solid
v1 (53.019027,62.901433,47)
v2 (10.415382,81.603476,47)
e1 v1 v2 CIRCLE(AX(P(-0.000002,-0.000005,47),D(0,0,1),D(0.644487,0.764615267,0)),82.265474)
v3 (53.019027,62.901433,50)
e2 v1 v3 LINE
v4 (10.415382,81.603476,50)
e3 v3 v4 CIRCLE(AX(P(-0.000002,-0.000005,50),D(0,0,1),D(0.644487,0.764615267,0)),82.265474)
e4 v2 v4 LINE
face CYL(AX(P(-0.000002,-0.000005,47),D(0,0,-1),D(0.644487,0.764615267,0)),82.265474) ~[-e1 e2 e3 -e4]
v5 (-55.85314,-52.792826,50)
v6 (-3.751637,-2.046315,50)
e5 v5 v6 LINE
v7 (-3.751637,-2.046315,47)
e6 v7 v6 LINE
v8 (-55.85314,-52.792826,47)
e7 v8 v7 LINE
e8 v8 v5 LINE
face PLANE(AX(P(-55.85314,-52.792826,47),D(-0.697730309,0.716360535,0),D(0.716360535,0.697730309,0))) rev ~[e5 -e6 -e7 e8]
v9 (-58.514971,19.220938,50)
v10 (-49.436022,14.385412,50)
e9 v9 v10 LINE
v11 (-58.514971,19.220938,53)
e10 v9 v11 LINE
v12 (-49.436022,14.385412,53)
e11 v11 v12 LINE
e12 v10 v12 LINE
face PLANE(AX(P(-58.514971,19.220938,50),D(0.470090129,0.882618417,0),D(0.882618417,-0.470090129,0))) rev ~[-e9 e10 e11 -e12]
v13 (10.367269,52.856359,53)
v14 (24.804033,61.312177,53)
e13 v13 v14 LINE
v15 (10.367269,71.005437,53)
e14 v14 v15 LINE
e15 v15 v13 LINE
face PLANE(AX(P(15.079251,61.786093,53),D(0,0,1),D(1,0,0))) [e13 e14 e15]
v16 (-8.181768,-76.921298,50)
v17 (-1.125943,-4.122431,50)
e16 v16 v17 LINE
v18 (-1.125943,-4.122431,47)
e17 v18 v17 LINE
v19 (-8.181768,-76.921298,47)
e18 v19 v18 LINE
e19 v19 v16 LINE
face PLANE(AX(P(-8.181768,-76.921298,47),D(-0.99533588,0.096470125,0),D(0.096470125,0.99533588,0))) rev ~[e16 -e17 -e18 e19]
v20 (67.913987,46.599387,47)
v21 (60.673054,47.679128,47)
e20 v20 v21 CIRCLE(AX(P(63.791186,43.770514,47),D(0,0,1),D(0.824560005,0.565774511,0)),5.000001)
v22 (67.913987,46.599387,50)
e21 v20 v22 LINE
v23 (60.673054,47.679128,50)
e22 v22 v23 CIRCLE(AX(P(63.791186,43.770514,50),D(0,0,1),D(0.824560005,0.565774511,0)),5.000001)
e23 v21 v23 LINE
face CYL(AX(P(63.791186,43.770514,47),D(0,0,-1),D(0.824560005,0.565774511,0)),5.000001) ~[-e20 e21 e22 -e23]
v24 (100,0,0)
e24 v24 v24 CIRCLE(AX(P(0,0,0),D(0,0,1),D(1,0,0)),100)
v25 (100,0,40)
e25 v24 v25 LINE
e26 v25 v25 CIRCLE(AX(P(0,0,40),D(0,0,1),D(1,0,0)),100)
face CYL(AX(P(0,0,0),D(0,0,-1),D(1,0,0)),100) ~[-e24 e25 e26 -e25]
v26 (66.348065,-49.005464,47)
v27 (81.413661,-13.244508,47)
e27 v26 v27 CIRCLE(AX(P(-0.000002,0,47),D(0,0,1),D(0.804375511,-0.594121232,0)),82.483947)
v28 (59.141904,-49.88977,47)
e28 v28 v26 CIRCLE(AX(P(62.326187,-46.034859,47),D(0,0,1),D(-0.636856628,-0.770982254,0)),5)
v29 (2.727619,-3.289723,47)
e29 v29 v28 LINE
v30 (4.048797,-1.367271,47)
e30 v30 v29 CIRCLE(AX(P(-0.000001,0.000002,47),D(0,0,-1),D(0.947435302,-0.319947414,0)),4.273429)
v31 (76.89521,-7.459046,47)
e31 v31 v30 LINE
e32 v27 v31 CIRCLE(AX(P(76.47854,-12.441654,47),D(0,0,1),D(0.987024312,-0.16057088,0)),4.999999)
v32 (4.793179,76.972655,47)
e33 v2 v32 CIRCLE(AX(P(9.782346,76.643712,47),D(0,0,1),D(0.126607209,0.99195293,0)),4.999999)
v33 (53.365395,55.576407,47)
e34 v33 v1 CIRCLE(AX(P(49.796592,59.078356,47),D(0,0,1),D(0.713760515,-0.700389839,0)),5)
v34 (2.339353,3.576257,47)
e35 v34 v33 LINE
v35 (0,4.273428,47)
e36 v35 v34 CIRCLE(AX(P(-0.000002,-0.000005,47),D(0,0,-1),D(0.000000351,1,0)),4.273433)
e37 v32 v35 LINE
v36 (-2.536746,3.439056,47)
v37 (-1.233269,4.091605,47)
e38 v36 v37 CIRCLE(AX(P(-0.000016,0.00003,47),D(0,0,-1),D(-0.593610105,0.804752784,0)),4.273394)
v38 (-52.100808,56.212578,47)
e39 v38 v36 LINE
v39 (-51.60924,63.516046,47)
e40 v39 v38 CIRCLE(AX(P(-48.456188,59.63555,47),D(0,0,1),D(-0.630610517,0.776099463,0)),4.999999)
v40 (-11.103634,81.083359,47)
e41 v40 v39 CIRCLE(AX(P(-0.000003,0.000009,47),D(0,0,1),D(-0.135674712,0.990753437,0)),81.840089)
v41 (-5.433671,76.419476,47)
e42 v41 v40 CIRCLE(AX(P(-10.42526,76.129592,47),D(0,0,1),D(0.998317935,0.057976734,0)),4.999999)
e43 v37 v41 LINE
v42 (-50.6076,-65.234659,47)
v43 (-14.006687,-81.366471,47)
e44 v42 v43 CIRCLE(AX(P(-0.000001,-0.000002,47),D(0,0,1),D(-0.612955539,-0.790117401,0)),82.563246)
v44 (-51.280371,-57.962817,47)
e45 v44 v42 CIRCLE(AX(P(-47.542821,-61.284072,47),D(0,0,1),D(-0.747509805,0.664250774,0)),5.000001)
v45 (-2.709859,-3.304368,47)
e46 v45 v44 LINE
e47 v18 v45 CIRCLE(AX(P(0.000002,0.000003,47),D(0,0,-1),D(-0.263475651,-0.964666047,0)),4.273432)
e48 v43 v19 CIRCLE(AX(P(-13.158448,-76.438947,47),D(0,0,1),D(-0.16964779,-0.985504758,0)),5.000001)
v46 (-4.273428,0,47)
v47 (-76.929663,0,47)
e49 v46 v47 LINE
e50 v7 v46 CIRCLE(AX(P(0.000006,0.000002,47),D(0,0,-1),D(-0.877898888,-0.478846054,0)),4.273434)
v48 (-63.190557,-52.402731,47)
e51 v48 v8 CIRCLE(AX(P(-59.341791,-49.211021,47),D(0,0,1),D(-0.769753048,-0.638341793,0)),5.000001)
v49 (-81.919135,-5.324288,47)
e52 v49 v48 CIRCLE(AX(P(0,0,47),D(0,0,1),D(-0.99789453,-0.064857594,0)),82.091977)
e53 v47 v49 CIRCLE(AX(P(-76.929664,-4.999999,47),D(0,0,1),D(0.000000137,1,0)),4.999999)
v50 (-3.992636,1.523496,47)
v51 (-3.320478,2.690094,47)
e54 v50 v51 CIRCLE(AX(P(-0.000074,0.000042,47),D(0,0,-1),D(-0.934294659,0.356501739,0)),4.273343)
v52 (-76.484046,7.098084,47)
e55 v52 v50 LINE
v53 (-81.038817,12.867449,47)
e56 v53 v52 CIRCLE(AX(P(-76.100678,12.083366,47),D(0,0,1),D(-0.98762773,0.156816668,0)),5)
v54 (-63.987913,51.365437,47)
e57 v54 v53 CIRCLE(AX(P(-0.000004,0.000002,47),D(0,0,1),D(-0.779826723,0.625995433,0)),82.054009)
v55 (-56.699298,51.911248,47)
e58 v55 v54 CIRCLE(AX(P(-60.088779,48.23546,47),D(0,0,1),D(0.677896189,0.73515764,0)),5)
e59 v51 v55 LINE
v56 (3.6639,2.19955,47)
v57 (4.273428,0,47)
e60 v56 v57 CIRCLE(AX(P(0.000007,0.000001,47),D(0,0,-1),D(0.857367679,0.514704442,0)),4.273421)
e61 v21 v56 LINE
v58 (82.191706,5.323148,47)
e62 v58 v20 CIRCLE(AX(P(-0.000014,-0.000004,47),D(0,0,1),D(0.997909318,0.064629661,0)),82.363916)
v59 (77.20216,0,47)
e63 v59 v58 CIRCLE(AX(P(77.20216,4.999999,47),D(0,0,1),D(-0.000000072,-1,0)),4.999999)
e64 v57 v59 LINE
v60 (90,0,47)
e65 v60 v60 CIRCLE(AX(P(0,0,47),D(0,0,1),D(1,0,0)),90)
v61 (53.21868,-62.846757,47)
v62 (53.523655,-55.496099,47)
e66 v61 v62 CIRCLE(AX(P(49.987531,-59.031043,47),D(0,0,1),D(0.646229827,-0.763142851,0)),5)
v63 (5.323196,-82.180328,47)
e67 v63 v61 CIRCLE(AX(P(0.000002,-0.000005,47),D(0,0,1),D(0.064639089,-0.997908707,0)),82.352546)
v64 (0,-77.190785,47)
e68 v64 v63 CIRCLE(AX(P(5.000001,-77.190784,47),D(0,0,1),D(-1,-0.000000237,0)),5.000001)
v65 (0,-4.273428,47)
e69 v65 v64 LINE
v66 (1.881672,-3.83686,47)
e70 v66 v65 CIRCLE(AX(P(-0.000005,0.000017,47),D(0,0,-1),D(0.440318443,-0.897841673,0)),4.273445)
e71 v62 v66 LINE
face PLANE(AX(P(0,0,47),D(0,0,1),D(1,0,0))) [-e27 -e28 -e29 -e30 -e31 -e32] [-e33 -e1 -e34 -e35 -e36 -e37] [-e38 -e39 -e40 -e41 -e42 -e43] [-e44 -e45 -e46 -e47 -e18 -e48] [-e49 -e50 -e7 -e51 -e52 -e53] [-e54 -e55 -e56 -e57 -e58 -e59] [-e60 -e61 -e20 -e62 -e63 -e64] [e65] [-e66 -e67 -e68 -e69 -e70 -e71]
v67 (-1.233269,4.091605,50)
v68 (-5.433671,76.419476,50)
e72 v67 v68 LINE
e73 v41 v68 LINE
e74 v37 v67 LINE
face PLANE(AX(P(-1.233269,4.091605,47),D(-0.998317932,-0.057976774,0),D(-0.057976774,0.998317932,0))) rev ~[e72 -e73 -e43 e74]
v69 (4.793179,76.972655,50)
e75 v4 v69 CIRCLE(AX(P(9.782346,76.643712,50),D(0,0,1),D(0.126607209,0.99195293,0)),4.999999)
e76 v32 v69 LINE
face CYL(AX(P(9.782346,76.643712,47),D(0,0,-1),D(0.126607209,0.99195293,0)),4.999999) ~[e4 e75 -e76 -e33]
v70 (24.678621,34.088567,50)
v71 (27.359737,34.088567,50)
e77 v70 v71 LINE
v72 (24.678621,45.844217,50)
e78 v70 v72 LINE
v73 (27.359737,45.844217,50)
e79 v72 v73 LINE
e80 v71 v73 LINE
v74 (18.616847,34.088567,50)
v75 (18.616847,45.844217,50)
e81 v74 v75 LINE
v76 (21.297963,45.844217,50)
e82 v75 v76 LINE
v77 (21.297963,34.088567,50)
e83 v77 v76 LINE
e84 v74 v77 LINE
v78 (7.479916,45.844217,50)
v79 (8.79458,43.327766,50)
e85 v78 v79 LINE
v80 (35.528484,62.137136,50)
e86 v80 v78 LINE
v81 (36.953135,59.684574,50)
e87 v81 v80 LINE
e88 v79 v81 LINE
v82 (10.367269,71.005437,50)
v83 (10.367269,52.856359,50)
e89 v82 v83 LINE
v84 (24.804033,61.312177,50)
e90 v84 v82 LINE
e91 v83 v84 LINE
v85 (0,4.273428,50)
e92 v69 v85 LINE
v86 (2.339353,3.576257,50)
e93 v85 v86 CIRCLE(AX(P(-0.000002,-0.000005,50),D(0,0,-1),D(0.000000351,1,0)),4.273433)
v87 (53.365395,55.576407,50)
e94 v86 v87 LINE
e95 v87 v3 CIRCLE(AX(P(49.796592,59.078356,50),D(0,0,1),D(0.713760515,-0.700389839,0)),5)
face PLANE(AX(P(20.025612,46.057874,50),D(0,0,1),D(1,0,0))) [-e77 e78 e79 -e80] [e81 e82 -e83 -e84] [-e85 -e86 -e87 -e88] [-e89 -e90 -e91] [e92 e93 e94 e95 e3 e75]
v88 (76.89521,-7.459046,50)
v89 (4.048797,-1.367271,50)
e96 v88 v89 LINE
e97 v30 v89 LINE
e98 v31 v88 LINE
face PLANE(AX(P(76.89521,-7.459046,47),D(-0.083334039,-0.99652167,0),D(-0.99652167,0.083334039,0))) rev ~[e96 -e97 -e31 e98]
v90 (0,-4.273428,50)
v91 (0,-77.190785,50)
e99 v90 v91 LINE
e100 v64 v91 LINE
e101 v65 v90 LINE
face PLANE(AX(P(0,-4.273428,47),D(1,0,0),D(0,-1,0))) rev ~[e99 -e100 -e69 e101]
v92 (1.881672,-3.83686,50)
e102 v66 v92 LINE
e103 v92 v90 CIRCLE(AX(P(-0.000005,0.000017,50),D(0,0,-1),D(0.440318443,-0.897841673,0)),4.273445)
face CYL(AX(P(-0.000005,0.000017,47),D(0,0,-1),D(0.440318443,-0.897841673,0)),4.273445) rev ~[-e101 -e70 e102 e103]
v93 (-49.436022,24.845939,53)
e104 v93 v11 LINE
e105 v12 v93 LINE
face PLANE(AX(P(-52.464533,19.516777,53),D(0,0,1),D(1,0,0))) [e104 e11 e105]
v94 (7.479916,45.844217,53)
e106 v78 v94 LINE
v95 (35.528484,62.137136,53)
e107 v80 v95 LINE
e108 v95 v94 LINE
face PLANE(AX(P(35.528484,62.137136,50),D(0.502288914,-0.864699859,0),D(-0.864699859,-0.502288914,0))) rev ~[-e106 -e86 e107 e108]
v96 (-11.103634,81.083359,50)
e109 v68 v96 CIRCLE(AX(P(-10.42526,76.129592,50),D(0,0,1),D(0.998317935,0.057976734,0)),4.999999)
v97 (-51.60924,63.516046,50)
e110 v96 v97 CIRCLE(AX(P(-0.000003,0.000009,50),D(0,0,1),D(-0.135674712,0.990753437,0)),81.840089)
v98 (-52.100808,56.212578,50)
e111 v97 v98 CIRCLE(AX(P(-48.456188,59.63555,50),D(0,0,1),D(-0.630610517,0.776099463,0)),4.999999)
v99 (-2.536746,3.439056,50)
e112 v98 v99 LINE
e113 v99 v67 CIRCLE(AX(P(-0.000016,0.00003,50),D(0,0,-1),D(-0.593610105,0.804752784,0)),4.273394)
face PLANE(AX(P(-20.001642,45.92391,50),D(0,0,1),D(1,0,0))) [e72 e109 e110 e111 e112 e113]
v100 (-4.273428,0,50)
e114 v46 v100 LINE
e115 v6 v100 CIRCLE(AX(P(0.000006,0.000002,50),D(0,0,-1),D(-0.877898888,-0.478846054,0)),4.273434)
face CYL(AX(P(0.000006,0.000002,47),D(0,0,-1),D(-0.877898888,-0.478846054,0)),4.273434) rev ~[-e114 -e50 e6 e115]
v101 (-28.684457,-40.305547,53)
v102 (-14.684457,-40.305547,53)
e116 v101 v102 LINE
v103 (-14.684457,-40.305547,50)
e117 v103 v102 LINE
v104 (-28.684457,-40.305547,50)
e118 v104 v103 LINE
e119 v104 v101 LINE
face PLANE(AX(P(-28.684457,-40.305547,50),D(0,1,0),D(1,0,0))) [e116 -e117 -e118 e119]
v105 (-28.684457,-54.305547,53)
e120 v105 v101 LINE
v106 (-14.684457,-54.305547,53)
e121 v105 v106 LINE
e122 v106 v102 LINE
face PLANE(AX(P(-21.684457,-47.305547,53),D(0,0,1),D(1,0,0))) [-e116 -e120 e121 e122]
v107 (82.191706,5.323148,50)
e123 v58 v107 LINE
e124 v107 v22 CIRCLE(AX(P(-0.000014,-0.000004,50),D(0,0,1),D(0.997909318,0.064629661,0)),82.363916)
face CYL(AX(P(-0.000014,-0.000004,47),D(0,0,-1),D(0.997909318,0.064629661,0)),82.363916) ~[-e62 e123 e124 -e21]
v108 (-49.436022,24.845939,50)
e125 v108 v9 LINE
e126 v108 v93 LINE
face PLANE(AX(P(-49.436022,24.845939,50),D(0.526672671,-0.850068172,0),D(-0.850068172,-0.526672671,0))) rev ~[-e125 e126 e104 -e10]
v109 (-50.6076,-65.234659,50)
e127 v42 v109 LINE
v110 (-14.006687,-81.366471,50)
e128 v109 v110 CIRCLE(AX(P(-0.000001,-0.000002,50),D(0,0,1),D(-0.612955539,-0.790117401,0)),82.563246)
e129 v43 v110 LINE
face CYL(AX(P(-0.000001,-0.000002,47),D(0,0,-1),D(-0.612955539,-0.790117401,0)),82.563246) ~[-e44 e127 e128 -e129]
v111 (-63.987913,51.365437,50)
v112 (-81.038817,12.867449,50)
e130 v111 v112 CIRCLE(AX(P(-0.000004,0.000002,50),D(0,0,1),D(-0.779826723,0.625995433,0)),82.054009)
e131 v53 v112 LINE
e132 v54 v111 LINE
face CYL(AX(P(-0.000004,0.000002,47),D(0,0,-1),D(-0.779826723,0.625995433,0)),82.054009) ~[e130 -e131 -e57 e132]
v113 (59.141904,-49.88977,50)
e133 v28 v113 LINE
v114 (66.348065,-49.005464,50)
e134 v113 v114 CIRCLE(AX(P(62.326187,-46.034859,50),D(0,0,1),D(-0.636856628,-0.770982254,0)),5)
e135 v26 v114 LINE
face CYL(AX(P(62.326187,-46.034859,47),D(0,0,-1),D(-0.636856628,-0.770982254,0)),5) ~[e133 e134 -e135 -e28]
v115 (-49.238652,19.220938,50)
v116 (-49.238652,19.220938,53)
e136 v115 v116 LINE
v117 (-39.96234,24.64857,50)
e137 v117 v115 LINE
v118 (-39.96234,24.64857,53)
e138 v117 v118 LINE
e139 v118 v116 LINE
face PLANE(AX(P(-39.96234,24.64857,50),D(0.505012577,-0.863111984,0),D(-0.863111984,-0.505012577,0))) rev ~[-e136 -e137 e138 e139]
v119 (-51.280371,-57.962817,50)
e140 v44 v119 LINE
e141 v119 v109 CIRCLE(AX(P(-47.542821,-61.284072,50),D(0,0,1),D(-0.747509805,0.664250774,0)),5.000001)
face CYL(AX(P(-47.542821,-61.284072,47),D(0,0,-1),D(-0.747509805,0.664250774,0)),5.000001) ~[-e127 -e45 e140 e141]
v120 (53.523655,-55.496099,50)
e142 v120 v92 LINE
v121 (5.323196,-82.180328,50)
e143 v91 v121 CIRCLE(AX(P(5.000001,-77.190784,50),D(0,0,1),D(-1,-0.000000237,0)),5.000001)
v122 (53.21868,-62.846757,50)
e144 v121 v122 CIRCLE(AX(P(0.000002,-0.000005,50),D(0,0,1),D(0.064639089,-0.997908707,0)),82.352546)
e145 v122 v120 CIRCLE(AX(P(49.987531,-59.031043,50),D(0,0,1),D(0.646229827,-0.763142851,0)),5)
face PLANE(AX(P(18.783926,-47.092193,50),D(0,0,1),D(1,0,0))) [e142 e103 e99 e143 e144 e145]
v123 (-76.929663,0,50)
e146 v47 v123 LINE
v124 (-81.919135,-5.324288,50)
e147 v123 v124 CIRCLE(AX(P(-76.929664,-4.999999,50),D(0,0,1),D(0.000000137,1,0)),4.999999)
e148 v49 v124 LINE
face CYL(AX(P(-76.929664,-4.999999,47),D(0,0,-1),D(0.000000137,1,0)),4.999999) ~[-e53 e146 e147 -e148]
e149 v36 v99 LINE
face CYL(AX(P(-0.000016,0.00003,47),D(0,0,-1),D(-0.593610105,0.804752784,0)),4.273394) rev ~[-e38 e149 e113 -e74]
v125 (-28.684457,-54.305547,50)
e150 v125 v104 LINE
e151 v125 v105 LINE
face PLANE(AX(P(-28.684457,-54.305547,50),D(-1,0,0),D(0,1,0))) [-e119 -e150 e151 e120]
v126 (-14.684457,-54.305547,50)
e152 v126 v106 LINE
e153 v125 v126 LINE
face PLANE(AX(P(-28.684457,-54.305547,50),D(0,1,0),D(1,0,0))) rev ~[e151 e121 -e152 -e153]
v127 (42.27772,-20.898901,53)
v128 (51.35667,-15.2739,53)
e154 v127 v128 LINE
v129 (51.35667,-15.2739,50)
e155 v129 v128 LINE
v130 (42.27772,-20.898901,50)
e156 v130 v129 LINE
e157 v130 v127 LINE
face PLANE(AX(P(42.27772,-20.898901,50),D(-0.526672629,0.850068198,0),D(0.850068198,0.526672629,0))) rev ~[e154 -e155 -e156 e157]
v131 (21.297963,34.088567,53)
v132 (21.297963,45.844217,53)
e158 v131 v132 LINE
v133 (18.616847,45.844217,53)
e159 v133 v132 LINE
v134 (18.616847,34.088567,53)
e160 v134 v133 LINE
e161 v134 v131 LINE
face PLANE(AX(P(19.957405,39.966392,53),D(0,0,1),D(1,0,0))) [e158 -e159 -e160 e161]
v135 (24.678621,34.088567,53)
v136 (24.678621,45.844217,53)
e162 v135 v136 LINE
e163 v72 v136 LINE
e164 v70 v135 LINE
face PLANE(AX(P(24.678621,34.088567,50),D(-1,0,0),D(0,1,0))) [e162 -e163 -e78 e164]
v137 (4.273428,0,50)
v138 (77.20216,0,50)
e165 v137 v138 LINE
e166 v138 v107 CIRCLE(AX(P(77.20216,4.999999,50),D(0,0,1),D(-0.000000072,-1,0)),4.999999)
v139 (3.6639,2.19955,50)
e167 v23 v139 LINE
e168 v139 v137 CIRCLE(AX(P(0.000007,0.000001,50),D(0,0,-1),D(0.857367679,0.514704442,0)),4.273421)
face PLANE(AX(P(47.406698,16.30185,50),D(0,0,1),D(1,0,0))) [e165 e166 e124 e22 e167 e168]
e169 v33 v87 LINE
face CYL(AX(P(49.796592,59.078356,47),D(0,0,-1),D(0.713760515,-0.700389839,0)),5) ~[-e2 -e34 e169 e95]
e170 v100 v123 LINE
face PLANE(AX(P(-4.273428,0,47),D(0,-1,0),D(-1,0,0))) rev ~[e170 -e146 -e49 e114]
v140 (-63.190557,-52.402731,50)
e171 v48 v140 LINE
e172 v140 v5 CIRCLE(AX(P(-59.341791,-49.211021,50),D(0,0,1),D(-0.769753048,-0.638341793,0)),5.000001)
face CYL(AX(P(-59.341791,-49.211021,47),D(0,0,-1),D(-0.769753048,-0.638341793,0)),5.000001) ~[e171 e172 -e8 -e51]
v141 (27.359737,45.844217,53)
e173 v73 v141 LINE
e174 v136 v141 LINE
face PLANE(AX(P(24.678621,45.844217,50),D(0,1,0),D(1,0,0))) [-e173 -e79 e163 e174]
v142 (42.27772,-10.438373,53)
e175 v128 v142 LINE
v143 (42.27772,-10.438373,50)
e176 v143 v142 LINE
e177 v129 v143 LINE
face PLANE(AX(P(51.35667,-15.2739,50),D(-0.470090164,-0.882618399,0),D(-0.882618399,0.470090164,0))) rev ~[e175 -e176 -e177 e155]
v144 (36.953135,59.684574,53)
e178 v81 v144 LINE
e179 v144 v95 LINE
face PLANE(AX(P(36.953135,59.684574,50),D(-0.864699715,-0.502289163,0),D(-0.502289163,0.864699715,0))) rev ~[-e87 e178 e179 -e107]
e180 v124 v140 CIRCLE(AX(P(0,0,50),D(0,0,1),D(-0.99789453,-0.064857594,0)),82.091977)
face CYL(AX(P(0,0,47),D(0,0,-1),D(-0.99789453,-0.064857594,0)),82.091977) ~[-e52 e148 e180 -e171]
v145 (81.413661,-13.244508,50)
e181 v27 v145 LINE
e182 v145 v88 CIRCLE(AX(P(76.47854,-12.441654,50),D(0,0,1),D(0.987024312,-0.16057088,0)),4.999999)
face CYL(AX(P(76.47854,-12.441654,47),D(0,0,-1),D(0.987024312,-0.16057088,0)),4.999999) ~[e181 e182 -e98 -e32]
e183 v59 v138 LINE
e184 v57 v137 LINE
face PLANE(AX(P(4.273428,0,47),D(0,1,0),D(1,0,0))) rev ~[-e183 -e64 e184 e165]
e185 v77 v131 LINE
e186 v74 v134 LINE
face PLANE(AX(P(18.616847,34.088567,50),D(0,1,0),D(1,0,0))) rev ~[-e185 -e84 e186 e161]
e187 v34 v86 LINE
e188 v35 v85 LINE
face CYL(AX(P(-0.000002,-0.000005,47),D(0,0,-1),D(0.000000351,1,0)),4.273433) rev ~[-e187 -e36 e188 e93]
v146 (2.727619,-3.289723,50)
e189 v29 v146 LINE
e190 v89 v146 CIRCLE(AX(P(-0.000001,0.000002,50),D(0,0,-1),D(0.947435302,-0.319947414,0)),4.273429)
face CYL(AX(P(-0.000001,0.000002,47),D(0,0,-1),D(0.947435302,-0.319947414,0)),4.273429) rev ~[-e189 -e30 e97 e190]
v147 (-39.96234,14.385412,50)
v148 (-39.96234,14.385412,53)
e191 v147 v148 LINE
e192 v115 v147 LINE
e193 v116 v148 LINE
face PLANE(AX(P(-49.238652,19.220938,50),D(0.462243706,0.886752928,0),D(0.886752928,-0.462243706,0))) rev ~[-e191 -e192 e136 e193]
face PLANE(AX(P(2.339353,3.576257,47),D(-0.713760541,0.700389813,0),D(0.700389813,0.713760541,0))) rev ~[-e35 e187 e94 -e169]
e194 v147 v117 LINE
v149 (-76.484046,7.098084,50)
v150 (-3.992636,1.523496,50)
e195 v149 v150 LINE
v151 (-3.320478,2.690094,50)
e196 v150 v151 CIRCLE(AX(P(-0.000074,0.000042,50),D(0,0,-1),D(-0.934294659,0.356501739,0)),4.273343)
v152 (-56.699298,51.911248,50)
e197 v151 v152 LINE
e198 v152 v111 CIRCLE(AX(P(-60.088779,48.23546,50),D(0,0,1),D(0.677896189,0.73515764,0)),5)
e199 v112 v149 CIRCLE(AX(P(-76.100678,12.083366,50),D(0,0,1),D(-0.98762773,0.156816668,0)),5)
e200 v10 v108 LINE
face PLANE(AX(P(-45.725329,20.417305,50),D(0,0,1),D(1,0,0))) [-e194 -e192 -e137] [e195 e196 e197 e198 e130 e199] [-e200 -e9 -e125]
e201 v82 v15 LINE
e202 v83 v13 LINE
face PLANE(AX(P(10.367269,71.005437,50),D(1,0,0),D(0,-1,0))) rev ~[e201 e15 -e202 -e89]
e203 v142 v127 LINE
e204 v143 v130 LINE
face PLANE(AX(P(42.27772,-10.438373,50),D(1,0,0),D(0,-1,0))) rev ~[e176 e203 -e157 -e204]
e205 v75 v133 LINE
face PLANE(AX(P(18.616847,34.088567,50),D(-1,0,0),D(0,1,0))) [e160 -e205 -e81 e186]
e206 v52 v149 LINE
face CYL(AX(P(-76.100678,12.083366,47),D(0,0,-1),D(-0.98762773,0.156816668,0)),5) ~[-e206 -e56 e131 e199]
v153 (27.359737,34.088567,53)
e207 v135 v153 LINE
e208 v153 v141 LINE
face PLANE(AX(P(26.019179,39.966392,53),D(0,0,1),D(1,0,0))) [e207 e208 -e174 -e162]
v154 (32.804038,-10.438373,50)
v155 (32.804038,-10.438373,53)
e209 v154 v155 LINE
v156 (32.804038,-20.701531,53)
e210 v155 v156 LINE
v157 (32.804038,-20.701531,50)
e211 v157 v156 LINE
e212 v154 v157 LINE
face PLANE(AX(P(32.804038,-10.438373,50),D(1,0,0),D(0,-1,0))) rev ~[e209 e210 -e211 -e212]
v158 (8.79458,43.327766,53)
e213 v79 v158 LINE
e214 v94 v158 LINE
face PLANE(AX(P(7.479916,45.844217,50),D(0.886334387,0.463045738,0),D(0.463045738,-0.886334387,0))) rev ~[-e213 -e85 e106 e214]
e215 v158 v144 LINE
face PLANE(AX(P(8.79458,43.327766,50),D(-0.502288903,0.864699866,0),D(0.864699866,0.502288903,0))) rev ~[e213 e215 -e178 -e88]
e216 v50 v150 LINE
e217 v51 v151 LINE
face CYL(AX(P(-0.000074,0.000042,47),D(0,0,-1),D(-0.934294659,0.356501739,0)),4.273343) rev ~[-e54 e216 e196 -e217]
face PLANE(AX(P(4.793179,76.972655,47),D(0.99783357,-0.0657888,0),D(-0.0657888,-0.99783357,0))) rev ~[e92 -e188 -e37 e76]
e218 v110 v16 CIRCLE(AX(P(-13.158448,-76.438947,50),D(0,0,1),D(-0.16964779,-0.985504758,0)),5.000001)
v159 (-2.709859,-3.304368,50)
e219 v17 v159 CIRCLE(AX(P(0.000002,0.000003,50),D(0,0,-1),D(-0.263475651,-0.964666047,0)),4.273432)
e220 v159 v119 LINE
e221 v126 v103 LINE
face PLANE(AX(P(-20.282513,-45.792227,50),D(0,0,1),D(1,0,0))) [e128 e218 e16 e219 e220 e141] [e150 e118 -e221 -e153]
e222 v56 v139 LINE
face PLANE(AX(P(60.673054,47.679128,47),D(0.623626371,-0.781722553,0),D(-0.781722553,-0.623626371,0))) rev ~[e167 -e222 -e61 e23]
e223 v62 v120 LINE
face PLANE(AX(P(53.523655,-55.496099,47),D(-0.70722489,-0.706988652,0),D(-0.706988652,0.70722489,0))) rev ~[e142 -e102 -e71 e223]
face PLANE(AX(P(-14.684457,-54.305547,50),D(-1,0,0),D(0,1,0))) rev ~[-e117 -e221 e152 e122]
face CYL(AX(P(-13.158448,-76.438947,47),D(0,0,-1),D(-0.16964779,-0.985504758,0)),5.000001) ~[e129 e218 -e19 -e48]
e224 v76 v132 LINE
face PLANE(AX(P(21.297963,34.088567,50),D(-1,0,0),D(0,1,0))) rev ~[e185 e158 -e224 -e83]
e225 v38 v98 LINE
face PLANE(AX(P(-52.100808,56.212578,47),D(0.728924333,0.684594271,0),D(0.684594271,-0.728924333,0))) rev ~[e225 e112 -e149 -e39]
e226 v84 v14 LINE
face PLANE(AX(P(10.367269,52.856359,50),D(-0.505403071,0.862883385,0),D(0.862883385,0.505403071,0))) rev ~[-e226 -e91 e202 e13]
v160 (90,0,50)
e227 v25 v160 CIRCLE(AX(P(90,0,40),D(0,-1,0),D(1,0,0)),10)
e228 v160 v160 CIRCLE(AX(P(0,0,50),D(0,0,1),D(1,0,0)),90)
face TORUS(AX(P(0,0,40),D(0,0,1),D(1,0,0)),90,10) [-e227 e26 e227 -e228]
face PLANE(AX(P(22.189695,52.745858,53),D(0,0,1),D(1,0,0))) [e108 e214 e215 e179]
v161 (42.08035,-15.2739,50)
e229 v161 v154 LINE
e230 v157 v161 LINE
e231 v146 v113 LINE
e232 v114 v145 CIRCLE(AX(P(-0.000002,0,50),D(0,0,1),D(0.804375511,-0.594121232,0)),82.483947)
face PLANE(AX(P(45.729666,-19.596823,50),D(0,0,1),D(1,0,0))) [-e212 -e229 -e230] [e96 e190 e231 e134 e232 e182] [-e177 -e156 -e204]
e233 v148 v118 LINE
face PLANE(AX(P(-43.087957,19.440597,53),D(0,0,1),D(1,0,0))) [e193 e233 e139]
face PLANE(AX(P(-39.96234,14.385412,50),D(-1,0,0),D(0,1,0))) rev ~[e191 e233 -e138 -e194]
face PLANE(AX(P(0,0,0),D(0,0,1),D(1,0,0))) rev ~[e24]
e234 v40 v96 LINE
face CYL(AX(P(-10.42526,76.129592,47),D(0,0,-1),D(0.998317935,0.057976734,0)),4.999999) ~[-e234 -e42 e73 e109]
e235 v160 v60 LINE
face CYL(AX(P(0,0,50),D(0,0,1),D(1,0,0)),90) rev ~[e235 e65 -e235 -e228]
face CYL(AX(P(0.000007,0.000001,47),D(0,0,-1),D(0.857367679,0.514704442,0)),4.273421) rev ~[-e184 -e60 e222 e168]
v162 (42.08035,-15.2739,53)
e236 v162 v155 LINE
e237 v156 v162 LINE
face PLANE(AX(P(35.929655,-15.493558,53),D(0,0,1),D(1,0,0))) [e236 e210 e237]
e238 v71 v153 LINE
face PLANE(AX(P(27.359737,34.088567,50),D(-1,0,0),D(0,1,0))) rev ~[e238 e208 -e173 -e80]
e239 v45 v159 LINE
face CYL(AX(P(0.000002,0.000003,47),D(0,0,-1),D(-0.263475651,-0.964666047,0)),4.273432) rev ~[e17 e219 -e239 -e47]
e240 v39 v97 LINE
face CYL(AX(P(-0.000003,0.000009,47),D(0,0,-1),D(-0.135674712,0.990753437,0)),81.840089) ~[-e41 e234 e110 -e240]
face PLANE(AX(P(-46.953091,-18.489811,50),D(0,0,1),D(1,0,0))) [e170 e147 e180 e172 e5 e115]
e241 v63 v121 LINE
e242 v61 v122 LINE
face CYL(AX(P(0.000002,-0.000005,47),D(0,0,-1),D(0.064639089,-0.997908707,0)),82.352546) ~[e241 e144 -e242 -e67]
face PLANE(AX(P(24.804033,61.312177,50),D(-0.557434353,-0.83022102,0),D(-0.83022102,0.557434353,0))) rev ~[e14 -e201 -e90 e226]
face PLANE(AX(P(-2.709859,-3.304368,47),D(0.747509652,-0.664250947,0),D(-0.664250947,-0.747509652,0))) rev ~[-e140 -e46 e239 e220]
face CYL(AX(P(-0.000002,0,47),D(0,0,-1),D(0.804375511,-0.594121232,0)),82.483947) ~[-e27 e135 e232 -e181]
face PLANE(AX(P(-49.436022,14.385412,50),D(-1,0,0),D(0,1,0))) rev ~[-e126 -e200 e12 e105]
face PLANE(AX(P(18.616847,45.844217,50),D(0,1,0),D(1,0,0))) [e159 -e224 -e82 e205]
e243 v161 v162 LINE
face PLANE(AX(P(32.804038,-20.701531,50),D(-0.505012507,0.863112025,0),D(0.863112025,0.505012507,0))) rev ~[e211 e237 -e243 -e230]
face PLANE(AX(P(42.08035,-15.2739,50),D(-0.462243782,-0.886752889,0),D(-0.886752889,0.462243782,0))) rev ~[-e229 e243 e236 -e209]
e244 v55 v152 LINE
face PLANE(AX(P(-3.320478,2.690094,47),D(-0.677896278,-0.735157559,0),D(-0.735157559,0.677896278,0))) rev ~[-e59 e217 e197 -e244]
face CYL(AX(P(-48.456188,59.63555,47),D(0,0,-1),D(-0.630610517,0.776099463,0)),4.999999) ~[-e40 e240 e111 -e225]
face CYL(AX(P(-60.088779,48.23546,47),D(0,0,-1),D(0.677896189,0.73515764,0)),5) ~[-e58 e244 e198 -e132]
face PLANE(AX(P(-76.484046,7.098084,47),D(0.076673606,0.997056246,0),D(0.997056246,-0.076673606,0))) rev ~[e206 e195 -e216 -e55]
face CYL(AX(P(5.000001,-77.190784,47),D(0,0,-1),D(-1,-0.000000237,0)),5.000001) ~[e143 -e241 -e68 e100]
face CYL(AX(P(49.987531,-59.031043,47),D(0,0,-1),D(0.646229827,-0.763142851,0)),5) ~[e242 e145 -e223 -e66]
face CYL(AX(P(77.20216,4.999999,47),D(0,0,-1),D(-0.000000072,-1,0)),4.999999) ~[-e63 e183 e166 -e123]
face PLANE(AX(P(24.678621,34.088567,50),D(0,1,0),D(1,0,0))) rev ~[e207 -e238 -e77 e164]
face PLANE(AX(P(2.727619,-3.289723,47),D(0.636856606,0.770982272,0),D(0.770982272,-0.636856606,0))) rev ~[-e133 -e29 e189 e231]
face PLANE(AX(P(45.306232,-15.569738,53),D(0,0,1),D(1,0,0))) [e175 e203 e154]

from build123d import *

# Parameters (mm, degrees)
F0_R      = 100
F1_DEPTH  = 50
F2_R      = 10
F1_FACE_R = 90
F3_DEPTH  = 3
F5_DEPTH  = 3
F7_W      = 2.681116
F7_H      = 11.75565
F7_W_2    = 14
F7_H_2    = 14
F8_DEPTH  = 3


with BuildPart() as f1:
    # F0 (on Top) → F1 (new body)
    with BuildSketch(Plane.XY):
        Circle(F0_R)
    extrude(amount=F1_DEPTH)

    # F2
    f2_edges = [f1.edges().sort_by_distance(p)[0] for p in [
        (-100, 0, 50),
    ]]
    fillet(f2_edges, radius=F2_R)

    # F1_face (on face) → F3 (cut)
    with BuildSketch(Plane.XY.offset(50)):
        Circle(F1_FACE_R)
    extrude(amount=-F3_DEPTH, mode=Mode.SUBTRACT)

    # F4 (on face) → F5 (join)
    with BuildSketch(Plane.XY.offset(47)):
        with BuildLine():
            ThreePointArc((53.019027, 62.901433), (33.066942, 75.327185), (10.415382, 81.603476))
            ThreePointArc((10.415382, 81.603476), (6.603495, 80.503103), (4.793179, 76.972655))
            Line((4.793179, 76.972655), (0, 4.273428))
            ThreePointArc((0, 4.273428), (1.220514, 4.095428), (2.339353, 3.576257))
            Line((2.339353, 3.576257), (53.365395, 55.576407))
            ThreePointArc((53.365395, 55.576407), (54.791012, 59.31452), (53.019027, 62.901433))
        make_face()
        with BuildLine():
            Line((60.673054, 47.679128), (3.6639, 2.19955))
            ThreePointArc((3.6639, 2.19955), (4.118228, 1.141221), (4.273428, 0))
            Line((4.273428, 0), (77.20216, 0))
            ThreePointArc((77.20216, 0), (80.850155, 1.580624), (82.191706, 5.323148))
            ThreePointArc((82.191706, 5.323148), (77.83869, 26.924909), (67.913987, 46.599387))
            ThreePointArc((67.913987, 46.599387), (64.528614, 48.715836), (60.673054, 47.679128))
        make_face()
        with BuildLine():
            Line((76.89521, -7.459046), (4.048797, -1.367271))
            ThreePointArc((4.048797, -1.367271), (3.521918, -2.420388), (2.727619, -3.289723))
            Line((2.727619, -3.289723), (59.141904, -49.88977))
            ThreePointArc((59.141904, -49.88977), (62.935195, -50.997631), (66.348065, -49.005464))
            ThreePointArc((66.348065, -49.005464), (76.013771, -32.023551), (81.413661, -13.244508))
            ThreePointArc((81.413661, -13.244508), (80.419138, -9.364044), (76.89521, -7.459046))
        make_face()
        with BuildLine():
            Line((53.523655, -55.496099), (1.881672, -3.83686))
            ThreePointArc((1.881672, -3.83686), (0.965826, -4.162855), (0, -4.273428))
            Line((0, -4.273428), (0, -77.190785))
            ThreePointArc((0, -77.190785), (1.580642, -80.838796), (5.323196, -82.180328))
            ThreePointArc((5.323196, -82.180328), (30.825875, -76.365622), (53.21868, -62.846757))
            ThreePointArc((53.21868, -62.846757), (54.983233, -59.238312), (53.523655, -55.496099))
        make_face()
        with BuildLine():
            ThreePointArc((-1.125943, -4.122431), (-1.961033, -3.796911), (-2.709859, -3.304368))
            Line((-2.709859, -3.304368), (-51.280371, -57.962817))
            ThreePointArc((-51.280371, -57.962817), (-52.52156, -61.744691), (-50.6076, -65.234659))
            ThreePointArc((-50.6076, -65.234659), (-33.298804, -75.55051), (-14.006687, -81.366471))
            ThreePointArc((-14.006687, -81.366471), (-10.12515, -80.413756), (-8.181768, -76.921298))
            Line((-8.181768, -76.921298), (-1.125943, -4.122431))
        make_face()
        with BuildLine():
            ThreePointArc((-3.751637, -2.046315), (-4.140926, -1.055896), (-4.273428, 0))
            Line((-4.273428, 0), (-76.929663, 0))
            ThreePointArc((-76.929663, 0), (-80.578049, -1.581041), (-81.919135, -5.324288))
            ThreePointArc((-81.919135, -5.324288), (-76.277786, -30.344556), (-63.190557, -52.402731))
            ThreePointArc((-63.190557, -52.402731), (-59.607242, -54.203971), (-55.85314, -52.792826))
            Line((-55.85314, -52.792826), (-3.751637, -2.046315))
        make_face()
        with BuildLine():
            ThreePointArc((-3.992636, 1.523496), (-3.70279, 2.133433), (-3.320478, 2.690094))
            Line((-3.320478, 2.690094), (-56.699298, 51.911248))
            ThreePointArc((-56.699298, 51.911248), (-60.462161, 53.221499), (-63.987913, 51.365437))
            ThreePointArc((-63.987913, 51.365437), (-75.024742, 33.228741), (-81.038817, 12.867449))
            ThreePointArc((-81.038817, 12.867449), (-80.025089, 8.98514), (-76.484046, 7.098084))
            Line((-76.484046, 7.098084), (-3.992636, 1.523496))
        make_face()
        with BuildLine():
            ThreePointArc((-2.536746, 3.439056), (-1.913037, 3.821319), (-1.233269, 4.091605))
            Line((-1.233269, 4.091605), (-5.433671, 76.419476))
            ThreePointArc((-5.433671, 76.419476), (-7.248956, 79.99108), (-11.103634, 81.083359))
            ThreePointArc((-11.103634, 81.083359), (-32.563457, 75.082775), (-51.60924, 63.516046))
            ThreePointArc((-51.60924, 63.516046), (-53.4449, 59.971321), (-52.100808, 56.212578))
            Line((-52.100808, 56.212578), (-2.536746, 3.439056))
        make_face()
    extrude(amount=F5_DEPTH)

    # F7 (on face) → F8 (join)
    with BuildSketch(Plane.XY.offset(50)):
        Polygon((24.804033, 61.312177), (10.367269, 71.005437), (10.367269, 52.856359), align=None)
        Polygon((35.528484, 62.137136), (7.479916, 45.844217), (8.79458, 43.327766), (36.953135, 59.684574), align=None)
        with Locations((19.957405, 39.966392)):
            Rectangle(F7_W, F7_H)
        with Locations((26.019179, 39.966392)):
            Rectangle(F7_W, F7_H)
        with Locations((-21.684457, -47.305547)):
            Rectangle(F7_W_2, F7_H_2)
        Polygon((42.08035, -15.2739), (32.804038, -10.438373), (32.804038, -20.701531), align=None)
        Polygon((51.35667, -15.2739), (42.27772, -10.438373), (42.27772, -20.898901), align=None)
        Polygon((-49.238652, 19.220938), (-39.96234, 14.385412), (-39.96234, 24.64857), align=None)
        Polygon((-58.514971, 19.220938), (-49.436022, 14.385412), (-49.436022, 24.845939), align=None)
    extrude(amount=F8_DEPTH)


solid = f1.part
